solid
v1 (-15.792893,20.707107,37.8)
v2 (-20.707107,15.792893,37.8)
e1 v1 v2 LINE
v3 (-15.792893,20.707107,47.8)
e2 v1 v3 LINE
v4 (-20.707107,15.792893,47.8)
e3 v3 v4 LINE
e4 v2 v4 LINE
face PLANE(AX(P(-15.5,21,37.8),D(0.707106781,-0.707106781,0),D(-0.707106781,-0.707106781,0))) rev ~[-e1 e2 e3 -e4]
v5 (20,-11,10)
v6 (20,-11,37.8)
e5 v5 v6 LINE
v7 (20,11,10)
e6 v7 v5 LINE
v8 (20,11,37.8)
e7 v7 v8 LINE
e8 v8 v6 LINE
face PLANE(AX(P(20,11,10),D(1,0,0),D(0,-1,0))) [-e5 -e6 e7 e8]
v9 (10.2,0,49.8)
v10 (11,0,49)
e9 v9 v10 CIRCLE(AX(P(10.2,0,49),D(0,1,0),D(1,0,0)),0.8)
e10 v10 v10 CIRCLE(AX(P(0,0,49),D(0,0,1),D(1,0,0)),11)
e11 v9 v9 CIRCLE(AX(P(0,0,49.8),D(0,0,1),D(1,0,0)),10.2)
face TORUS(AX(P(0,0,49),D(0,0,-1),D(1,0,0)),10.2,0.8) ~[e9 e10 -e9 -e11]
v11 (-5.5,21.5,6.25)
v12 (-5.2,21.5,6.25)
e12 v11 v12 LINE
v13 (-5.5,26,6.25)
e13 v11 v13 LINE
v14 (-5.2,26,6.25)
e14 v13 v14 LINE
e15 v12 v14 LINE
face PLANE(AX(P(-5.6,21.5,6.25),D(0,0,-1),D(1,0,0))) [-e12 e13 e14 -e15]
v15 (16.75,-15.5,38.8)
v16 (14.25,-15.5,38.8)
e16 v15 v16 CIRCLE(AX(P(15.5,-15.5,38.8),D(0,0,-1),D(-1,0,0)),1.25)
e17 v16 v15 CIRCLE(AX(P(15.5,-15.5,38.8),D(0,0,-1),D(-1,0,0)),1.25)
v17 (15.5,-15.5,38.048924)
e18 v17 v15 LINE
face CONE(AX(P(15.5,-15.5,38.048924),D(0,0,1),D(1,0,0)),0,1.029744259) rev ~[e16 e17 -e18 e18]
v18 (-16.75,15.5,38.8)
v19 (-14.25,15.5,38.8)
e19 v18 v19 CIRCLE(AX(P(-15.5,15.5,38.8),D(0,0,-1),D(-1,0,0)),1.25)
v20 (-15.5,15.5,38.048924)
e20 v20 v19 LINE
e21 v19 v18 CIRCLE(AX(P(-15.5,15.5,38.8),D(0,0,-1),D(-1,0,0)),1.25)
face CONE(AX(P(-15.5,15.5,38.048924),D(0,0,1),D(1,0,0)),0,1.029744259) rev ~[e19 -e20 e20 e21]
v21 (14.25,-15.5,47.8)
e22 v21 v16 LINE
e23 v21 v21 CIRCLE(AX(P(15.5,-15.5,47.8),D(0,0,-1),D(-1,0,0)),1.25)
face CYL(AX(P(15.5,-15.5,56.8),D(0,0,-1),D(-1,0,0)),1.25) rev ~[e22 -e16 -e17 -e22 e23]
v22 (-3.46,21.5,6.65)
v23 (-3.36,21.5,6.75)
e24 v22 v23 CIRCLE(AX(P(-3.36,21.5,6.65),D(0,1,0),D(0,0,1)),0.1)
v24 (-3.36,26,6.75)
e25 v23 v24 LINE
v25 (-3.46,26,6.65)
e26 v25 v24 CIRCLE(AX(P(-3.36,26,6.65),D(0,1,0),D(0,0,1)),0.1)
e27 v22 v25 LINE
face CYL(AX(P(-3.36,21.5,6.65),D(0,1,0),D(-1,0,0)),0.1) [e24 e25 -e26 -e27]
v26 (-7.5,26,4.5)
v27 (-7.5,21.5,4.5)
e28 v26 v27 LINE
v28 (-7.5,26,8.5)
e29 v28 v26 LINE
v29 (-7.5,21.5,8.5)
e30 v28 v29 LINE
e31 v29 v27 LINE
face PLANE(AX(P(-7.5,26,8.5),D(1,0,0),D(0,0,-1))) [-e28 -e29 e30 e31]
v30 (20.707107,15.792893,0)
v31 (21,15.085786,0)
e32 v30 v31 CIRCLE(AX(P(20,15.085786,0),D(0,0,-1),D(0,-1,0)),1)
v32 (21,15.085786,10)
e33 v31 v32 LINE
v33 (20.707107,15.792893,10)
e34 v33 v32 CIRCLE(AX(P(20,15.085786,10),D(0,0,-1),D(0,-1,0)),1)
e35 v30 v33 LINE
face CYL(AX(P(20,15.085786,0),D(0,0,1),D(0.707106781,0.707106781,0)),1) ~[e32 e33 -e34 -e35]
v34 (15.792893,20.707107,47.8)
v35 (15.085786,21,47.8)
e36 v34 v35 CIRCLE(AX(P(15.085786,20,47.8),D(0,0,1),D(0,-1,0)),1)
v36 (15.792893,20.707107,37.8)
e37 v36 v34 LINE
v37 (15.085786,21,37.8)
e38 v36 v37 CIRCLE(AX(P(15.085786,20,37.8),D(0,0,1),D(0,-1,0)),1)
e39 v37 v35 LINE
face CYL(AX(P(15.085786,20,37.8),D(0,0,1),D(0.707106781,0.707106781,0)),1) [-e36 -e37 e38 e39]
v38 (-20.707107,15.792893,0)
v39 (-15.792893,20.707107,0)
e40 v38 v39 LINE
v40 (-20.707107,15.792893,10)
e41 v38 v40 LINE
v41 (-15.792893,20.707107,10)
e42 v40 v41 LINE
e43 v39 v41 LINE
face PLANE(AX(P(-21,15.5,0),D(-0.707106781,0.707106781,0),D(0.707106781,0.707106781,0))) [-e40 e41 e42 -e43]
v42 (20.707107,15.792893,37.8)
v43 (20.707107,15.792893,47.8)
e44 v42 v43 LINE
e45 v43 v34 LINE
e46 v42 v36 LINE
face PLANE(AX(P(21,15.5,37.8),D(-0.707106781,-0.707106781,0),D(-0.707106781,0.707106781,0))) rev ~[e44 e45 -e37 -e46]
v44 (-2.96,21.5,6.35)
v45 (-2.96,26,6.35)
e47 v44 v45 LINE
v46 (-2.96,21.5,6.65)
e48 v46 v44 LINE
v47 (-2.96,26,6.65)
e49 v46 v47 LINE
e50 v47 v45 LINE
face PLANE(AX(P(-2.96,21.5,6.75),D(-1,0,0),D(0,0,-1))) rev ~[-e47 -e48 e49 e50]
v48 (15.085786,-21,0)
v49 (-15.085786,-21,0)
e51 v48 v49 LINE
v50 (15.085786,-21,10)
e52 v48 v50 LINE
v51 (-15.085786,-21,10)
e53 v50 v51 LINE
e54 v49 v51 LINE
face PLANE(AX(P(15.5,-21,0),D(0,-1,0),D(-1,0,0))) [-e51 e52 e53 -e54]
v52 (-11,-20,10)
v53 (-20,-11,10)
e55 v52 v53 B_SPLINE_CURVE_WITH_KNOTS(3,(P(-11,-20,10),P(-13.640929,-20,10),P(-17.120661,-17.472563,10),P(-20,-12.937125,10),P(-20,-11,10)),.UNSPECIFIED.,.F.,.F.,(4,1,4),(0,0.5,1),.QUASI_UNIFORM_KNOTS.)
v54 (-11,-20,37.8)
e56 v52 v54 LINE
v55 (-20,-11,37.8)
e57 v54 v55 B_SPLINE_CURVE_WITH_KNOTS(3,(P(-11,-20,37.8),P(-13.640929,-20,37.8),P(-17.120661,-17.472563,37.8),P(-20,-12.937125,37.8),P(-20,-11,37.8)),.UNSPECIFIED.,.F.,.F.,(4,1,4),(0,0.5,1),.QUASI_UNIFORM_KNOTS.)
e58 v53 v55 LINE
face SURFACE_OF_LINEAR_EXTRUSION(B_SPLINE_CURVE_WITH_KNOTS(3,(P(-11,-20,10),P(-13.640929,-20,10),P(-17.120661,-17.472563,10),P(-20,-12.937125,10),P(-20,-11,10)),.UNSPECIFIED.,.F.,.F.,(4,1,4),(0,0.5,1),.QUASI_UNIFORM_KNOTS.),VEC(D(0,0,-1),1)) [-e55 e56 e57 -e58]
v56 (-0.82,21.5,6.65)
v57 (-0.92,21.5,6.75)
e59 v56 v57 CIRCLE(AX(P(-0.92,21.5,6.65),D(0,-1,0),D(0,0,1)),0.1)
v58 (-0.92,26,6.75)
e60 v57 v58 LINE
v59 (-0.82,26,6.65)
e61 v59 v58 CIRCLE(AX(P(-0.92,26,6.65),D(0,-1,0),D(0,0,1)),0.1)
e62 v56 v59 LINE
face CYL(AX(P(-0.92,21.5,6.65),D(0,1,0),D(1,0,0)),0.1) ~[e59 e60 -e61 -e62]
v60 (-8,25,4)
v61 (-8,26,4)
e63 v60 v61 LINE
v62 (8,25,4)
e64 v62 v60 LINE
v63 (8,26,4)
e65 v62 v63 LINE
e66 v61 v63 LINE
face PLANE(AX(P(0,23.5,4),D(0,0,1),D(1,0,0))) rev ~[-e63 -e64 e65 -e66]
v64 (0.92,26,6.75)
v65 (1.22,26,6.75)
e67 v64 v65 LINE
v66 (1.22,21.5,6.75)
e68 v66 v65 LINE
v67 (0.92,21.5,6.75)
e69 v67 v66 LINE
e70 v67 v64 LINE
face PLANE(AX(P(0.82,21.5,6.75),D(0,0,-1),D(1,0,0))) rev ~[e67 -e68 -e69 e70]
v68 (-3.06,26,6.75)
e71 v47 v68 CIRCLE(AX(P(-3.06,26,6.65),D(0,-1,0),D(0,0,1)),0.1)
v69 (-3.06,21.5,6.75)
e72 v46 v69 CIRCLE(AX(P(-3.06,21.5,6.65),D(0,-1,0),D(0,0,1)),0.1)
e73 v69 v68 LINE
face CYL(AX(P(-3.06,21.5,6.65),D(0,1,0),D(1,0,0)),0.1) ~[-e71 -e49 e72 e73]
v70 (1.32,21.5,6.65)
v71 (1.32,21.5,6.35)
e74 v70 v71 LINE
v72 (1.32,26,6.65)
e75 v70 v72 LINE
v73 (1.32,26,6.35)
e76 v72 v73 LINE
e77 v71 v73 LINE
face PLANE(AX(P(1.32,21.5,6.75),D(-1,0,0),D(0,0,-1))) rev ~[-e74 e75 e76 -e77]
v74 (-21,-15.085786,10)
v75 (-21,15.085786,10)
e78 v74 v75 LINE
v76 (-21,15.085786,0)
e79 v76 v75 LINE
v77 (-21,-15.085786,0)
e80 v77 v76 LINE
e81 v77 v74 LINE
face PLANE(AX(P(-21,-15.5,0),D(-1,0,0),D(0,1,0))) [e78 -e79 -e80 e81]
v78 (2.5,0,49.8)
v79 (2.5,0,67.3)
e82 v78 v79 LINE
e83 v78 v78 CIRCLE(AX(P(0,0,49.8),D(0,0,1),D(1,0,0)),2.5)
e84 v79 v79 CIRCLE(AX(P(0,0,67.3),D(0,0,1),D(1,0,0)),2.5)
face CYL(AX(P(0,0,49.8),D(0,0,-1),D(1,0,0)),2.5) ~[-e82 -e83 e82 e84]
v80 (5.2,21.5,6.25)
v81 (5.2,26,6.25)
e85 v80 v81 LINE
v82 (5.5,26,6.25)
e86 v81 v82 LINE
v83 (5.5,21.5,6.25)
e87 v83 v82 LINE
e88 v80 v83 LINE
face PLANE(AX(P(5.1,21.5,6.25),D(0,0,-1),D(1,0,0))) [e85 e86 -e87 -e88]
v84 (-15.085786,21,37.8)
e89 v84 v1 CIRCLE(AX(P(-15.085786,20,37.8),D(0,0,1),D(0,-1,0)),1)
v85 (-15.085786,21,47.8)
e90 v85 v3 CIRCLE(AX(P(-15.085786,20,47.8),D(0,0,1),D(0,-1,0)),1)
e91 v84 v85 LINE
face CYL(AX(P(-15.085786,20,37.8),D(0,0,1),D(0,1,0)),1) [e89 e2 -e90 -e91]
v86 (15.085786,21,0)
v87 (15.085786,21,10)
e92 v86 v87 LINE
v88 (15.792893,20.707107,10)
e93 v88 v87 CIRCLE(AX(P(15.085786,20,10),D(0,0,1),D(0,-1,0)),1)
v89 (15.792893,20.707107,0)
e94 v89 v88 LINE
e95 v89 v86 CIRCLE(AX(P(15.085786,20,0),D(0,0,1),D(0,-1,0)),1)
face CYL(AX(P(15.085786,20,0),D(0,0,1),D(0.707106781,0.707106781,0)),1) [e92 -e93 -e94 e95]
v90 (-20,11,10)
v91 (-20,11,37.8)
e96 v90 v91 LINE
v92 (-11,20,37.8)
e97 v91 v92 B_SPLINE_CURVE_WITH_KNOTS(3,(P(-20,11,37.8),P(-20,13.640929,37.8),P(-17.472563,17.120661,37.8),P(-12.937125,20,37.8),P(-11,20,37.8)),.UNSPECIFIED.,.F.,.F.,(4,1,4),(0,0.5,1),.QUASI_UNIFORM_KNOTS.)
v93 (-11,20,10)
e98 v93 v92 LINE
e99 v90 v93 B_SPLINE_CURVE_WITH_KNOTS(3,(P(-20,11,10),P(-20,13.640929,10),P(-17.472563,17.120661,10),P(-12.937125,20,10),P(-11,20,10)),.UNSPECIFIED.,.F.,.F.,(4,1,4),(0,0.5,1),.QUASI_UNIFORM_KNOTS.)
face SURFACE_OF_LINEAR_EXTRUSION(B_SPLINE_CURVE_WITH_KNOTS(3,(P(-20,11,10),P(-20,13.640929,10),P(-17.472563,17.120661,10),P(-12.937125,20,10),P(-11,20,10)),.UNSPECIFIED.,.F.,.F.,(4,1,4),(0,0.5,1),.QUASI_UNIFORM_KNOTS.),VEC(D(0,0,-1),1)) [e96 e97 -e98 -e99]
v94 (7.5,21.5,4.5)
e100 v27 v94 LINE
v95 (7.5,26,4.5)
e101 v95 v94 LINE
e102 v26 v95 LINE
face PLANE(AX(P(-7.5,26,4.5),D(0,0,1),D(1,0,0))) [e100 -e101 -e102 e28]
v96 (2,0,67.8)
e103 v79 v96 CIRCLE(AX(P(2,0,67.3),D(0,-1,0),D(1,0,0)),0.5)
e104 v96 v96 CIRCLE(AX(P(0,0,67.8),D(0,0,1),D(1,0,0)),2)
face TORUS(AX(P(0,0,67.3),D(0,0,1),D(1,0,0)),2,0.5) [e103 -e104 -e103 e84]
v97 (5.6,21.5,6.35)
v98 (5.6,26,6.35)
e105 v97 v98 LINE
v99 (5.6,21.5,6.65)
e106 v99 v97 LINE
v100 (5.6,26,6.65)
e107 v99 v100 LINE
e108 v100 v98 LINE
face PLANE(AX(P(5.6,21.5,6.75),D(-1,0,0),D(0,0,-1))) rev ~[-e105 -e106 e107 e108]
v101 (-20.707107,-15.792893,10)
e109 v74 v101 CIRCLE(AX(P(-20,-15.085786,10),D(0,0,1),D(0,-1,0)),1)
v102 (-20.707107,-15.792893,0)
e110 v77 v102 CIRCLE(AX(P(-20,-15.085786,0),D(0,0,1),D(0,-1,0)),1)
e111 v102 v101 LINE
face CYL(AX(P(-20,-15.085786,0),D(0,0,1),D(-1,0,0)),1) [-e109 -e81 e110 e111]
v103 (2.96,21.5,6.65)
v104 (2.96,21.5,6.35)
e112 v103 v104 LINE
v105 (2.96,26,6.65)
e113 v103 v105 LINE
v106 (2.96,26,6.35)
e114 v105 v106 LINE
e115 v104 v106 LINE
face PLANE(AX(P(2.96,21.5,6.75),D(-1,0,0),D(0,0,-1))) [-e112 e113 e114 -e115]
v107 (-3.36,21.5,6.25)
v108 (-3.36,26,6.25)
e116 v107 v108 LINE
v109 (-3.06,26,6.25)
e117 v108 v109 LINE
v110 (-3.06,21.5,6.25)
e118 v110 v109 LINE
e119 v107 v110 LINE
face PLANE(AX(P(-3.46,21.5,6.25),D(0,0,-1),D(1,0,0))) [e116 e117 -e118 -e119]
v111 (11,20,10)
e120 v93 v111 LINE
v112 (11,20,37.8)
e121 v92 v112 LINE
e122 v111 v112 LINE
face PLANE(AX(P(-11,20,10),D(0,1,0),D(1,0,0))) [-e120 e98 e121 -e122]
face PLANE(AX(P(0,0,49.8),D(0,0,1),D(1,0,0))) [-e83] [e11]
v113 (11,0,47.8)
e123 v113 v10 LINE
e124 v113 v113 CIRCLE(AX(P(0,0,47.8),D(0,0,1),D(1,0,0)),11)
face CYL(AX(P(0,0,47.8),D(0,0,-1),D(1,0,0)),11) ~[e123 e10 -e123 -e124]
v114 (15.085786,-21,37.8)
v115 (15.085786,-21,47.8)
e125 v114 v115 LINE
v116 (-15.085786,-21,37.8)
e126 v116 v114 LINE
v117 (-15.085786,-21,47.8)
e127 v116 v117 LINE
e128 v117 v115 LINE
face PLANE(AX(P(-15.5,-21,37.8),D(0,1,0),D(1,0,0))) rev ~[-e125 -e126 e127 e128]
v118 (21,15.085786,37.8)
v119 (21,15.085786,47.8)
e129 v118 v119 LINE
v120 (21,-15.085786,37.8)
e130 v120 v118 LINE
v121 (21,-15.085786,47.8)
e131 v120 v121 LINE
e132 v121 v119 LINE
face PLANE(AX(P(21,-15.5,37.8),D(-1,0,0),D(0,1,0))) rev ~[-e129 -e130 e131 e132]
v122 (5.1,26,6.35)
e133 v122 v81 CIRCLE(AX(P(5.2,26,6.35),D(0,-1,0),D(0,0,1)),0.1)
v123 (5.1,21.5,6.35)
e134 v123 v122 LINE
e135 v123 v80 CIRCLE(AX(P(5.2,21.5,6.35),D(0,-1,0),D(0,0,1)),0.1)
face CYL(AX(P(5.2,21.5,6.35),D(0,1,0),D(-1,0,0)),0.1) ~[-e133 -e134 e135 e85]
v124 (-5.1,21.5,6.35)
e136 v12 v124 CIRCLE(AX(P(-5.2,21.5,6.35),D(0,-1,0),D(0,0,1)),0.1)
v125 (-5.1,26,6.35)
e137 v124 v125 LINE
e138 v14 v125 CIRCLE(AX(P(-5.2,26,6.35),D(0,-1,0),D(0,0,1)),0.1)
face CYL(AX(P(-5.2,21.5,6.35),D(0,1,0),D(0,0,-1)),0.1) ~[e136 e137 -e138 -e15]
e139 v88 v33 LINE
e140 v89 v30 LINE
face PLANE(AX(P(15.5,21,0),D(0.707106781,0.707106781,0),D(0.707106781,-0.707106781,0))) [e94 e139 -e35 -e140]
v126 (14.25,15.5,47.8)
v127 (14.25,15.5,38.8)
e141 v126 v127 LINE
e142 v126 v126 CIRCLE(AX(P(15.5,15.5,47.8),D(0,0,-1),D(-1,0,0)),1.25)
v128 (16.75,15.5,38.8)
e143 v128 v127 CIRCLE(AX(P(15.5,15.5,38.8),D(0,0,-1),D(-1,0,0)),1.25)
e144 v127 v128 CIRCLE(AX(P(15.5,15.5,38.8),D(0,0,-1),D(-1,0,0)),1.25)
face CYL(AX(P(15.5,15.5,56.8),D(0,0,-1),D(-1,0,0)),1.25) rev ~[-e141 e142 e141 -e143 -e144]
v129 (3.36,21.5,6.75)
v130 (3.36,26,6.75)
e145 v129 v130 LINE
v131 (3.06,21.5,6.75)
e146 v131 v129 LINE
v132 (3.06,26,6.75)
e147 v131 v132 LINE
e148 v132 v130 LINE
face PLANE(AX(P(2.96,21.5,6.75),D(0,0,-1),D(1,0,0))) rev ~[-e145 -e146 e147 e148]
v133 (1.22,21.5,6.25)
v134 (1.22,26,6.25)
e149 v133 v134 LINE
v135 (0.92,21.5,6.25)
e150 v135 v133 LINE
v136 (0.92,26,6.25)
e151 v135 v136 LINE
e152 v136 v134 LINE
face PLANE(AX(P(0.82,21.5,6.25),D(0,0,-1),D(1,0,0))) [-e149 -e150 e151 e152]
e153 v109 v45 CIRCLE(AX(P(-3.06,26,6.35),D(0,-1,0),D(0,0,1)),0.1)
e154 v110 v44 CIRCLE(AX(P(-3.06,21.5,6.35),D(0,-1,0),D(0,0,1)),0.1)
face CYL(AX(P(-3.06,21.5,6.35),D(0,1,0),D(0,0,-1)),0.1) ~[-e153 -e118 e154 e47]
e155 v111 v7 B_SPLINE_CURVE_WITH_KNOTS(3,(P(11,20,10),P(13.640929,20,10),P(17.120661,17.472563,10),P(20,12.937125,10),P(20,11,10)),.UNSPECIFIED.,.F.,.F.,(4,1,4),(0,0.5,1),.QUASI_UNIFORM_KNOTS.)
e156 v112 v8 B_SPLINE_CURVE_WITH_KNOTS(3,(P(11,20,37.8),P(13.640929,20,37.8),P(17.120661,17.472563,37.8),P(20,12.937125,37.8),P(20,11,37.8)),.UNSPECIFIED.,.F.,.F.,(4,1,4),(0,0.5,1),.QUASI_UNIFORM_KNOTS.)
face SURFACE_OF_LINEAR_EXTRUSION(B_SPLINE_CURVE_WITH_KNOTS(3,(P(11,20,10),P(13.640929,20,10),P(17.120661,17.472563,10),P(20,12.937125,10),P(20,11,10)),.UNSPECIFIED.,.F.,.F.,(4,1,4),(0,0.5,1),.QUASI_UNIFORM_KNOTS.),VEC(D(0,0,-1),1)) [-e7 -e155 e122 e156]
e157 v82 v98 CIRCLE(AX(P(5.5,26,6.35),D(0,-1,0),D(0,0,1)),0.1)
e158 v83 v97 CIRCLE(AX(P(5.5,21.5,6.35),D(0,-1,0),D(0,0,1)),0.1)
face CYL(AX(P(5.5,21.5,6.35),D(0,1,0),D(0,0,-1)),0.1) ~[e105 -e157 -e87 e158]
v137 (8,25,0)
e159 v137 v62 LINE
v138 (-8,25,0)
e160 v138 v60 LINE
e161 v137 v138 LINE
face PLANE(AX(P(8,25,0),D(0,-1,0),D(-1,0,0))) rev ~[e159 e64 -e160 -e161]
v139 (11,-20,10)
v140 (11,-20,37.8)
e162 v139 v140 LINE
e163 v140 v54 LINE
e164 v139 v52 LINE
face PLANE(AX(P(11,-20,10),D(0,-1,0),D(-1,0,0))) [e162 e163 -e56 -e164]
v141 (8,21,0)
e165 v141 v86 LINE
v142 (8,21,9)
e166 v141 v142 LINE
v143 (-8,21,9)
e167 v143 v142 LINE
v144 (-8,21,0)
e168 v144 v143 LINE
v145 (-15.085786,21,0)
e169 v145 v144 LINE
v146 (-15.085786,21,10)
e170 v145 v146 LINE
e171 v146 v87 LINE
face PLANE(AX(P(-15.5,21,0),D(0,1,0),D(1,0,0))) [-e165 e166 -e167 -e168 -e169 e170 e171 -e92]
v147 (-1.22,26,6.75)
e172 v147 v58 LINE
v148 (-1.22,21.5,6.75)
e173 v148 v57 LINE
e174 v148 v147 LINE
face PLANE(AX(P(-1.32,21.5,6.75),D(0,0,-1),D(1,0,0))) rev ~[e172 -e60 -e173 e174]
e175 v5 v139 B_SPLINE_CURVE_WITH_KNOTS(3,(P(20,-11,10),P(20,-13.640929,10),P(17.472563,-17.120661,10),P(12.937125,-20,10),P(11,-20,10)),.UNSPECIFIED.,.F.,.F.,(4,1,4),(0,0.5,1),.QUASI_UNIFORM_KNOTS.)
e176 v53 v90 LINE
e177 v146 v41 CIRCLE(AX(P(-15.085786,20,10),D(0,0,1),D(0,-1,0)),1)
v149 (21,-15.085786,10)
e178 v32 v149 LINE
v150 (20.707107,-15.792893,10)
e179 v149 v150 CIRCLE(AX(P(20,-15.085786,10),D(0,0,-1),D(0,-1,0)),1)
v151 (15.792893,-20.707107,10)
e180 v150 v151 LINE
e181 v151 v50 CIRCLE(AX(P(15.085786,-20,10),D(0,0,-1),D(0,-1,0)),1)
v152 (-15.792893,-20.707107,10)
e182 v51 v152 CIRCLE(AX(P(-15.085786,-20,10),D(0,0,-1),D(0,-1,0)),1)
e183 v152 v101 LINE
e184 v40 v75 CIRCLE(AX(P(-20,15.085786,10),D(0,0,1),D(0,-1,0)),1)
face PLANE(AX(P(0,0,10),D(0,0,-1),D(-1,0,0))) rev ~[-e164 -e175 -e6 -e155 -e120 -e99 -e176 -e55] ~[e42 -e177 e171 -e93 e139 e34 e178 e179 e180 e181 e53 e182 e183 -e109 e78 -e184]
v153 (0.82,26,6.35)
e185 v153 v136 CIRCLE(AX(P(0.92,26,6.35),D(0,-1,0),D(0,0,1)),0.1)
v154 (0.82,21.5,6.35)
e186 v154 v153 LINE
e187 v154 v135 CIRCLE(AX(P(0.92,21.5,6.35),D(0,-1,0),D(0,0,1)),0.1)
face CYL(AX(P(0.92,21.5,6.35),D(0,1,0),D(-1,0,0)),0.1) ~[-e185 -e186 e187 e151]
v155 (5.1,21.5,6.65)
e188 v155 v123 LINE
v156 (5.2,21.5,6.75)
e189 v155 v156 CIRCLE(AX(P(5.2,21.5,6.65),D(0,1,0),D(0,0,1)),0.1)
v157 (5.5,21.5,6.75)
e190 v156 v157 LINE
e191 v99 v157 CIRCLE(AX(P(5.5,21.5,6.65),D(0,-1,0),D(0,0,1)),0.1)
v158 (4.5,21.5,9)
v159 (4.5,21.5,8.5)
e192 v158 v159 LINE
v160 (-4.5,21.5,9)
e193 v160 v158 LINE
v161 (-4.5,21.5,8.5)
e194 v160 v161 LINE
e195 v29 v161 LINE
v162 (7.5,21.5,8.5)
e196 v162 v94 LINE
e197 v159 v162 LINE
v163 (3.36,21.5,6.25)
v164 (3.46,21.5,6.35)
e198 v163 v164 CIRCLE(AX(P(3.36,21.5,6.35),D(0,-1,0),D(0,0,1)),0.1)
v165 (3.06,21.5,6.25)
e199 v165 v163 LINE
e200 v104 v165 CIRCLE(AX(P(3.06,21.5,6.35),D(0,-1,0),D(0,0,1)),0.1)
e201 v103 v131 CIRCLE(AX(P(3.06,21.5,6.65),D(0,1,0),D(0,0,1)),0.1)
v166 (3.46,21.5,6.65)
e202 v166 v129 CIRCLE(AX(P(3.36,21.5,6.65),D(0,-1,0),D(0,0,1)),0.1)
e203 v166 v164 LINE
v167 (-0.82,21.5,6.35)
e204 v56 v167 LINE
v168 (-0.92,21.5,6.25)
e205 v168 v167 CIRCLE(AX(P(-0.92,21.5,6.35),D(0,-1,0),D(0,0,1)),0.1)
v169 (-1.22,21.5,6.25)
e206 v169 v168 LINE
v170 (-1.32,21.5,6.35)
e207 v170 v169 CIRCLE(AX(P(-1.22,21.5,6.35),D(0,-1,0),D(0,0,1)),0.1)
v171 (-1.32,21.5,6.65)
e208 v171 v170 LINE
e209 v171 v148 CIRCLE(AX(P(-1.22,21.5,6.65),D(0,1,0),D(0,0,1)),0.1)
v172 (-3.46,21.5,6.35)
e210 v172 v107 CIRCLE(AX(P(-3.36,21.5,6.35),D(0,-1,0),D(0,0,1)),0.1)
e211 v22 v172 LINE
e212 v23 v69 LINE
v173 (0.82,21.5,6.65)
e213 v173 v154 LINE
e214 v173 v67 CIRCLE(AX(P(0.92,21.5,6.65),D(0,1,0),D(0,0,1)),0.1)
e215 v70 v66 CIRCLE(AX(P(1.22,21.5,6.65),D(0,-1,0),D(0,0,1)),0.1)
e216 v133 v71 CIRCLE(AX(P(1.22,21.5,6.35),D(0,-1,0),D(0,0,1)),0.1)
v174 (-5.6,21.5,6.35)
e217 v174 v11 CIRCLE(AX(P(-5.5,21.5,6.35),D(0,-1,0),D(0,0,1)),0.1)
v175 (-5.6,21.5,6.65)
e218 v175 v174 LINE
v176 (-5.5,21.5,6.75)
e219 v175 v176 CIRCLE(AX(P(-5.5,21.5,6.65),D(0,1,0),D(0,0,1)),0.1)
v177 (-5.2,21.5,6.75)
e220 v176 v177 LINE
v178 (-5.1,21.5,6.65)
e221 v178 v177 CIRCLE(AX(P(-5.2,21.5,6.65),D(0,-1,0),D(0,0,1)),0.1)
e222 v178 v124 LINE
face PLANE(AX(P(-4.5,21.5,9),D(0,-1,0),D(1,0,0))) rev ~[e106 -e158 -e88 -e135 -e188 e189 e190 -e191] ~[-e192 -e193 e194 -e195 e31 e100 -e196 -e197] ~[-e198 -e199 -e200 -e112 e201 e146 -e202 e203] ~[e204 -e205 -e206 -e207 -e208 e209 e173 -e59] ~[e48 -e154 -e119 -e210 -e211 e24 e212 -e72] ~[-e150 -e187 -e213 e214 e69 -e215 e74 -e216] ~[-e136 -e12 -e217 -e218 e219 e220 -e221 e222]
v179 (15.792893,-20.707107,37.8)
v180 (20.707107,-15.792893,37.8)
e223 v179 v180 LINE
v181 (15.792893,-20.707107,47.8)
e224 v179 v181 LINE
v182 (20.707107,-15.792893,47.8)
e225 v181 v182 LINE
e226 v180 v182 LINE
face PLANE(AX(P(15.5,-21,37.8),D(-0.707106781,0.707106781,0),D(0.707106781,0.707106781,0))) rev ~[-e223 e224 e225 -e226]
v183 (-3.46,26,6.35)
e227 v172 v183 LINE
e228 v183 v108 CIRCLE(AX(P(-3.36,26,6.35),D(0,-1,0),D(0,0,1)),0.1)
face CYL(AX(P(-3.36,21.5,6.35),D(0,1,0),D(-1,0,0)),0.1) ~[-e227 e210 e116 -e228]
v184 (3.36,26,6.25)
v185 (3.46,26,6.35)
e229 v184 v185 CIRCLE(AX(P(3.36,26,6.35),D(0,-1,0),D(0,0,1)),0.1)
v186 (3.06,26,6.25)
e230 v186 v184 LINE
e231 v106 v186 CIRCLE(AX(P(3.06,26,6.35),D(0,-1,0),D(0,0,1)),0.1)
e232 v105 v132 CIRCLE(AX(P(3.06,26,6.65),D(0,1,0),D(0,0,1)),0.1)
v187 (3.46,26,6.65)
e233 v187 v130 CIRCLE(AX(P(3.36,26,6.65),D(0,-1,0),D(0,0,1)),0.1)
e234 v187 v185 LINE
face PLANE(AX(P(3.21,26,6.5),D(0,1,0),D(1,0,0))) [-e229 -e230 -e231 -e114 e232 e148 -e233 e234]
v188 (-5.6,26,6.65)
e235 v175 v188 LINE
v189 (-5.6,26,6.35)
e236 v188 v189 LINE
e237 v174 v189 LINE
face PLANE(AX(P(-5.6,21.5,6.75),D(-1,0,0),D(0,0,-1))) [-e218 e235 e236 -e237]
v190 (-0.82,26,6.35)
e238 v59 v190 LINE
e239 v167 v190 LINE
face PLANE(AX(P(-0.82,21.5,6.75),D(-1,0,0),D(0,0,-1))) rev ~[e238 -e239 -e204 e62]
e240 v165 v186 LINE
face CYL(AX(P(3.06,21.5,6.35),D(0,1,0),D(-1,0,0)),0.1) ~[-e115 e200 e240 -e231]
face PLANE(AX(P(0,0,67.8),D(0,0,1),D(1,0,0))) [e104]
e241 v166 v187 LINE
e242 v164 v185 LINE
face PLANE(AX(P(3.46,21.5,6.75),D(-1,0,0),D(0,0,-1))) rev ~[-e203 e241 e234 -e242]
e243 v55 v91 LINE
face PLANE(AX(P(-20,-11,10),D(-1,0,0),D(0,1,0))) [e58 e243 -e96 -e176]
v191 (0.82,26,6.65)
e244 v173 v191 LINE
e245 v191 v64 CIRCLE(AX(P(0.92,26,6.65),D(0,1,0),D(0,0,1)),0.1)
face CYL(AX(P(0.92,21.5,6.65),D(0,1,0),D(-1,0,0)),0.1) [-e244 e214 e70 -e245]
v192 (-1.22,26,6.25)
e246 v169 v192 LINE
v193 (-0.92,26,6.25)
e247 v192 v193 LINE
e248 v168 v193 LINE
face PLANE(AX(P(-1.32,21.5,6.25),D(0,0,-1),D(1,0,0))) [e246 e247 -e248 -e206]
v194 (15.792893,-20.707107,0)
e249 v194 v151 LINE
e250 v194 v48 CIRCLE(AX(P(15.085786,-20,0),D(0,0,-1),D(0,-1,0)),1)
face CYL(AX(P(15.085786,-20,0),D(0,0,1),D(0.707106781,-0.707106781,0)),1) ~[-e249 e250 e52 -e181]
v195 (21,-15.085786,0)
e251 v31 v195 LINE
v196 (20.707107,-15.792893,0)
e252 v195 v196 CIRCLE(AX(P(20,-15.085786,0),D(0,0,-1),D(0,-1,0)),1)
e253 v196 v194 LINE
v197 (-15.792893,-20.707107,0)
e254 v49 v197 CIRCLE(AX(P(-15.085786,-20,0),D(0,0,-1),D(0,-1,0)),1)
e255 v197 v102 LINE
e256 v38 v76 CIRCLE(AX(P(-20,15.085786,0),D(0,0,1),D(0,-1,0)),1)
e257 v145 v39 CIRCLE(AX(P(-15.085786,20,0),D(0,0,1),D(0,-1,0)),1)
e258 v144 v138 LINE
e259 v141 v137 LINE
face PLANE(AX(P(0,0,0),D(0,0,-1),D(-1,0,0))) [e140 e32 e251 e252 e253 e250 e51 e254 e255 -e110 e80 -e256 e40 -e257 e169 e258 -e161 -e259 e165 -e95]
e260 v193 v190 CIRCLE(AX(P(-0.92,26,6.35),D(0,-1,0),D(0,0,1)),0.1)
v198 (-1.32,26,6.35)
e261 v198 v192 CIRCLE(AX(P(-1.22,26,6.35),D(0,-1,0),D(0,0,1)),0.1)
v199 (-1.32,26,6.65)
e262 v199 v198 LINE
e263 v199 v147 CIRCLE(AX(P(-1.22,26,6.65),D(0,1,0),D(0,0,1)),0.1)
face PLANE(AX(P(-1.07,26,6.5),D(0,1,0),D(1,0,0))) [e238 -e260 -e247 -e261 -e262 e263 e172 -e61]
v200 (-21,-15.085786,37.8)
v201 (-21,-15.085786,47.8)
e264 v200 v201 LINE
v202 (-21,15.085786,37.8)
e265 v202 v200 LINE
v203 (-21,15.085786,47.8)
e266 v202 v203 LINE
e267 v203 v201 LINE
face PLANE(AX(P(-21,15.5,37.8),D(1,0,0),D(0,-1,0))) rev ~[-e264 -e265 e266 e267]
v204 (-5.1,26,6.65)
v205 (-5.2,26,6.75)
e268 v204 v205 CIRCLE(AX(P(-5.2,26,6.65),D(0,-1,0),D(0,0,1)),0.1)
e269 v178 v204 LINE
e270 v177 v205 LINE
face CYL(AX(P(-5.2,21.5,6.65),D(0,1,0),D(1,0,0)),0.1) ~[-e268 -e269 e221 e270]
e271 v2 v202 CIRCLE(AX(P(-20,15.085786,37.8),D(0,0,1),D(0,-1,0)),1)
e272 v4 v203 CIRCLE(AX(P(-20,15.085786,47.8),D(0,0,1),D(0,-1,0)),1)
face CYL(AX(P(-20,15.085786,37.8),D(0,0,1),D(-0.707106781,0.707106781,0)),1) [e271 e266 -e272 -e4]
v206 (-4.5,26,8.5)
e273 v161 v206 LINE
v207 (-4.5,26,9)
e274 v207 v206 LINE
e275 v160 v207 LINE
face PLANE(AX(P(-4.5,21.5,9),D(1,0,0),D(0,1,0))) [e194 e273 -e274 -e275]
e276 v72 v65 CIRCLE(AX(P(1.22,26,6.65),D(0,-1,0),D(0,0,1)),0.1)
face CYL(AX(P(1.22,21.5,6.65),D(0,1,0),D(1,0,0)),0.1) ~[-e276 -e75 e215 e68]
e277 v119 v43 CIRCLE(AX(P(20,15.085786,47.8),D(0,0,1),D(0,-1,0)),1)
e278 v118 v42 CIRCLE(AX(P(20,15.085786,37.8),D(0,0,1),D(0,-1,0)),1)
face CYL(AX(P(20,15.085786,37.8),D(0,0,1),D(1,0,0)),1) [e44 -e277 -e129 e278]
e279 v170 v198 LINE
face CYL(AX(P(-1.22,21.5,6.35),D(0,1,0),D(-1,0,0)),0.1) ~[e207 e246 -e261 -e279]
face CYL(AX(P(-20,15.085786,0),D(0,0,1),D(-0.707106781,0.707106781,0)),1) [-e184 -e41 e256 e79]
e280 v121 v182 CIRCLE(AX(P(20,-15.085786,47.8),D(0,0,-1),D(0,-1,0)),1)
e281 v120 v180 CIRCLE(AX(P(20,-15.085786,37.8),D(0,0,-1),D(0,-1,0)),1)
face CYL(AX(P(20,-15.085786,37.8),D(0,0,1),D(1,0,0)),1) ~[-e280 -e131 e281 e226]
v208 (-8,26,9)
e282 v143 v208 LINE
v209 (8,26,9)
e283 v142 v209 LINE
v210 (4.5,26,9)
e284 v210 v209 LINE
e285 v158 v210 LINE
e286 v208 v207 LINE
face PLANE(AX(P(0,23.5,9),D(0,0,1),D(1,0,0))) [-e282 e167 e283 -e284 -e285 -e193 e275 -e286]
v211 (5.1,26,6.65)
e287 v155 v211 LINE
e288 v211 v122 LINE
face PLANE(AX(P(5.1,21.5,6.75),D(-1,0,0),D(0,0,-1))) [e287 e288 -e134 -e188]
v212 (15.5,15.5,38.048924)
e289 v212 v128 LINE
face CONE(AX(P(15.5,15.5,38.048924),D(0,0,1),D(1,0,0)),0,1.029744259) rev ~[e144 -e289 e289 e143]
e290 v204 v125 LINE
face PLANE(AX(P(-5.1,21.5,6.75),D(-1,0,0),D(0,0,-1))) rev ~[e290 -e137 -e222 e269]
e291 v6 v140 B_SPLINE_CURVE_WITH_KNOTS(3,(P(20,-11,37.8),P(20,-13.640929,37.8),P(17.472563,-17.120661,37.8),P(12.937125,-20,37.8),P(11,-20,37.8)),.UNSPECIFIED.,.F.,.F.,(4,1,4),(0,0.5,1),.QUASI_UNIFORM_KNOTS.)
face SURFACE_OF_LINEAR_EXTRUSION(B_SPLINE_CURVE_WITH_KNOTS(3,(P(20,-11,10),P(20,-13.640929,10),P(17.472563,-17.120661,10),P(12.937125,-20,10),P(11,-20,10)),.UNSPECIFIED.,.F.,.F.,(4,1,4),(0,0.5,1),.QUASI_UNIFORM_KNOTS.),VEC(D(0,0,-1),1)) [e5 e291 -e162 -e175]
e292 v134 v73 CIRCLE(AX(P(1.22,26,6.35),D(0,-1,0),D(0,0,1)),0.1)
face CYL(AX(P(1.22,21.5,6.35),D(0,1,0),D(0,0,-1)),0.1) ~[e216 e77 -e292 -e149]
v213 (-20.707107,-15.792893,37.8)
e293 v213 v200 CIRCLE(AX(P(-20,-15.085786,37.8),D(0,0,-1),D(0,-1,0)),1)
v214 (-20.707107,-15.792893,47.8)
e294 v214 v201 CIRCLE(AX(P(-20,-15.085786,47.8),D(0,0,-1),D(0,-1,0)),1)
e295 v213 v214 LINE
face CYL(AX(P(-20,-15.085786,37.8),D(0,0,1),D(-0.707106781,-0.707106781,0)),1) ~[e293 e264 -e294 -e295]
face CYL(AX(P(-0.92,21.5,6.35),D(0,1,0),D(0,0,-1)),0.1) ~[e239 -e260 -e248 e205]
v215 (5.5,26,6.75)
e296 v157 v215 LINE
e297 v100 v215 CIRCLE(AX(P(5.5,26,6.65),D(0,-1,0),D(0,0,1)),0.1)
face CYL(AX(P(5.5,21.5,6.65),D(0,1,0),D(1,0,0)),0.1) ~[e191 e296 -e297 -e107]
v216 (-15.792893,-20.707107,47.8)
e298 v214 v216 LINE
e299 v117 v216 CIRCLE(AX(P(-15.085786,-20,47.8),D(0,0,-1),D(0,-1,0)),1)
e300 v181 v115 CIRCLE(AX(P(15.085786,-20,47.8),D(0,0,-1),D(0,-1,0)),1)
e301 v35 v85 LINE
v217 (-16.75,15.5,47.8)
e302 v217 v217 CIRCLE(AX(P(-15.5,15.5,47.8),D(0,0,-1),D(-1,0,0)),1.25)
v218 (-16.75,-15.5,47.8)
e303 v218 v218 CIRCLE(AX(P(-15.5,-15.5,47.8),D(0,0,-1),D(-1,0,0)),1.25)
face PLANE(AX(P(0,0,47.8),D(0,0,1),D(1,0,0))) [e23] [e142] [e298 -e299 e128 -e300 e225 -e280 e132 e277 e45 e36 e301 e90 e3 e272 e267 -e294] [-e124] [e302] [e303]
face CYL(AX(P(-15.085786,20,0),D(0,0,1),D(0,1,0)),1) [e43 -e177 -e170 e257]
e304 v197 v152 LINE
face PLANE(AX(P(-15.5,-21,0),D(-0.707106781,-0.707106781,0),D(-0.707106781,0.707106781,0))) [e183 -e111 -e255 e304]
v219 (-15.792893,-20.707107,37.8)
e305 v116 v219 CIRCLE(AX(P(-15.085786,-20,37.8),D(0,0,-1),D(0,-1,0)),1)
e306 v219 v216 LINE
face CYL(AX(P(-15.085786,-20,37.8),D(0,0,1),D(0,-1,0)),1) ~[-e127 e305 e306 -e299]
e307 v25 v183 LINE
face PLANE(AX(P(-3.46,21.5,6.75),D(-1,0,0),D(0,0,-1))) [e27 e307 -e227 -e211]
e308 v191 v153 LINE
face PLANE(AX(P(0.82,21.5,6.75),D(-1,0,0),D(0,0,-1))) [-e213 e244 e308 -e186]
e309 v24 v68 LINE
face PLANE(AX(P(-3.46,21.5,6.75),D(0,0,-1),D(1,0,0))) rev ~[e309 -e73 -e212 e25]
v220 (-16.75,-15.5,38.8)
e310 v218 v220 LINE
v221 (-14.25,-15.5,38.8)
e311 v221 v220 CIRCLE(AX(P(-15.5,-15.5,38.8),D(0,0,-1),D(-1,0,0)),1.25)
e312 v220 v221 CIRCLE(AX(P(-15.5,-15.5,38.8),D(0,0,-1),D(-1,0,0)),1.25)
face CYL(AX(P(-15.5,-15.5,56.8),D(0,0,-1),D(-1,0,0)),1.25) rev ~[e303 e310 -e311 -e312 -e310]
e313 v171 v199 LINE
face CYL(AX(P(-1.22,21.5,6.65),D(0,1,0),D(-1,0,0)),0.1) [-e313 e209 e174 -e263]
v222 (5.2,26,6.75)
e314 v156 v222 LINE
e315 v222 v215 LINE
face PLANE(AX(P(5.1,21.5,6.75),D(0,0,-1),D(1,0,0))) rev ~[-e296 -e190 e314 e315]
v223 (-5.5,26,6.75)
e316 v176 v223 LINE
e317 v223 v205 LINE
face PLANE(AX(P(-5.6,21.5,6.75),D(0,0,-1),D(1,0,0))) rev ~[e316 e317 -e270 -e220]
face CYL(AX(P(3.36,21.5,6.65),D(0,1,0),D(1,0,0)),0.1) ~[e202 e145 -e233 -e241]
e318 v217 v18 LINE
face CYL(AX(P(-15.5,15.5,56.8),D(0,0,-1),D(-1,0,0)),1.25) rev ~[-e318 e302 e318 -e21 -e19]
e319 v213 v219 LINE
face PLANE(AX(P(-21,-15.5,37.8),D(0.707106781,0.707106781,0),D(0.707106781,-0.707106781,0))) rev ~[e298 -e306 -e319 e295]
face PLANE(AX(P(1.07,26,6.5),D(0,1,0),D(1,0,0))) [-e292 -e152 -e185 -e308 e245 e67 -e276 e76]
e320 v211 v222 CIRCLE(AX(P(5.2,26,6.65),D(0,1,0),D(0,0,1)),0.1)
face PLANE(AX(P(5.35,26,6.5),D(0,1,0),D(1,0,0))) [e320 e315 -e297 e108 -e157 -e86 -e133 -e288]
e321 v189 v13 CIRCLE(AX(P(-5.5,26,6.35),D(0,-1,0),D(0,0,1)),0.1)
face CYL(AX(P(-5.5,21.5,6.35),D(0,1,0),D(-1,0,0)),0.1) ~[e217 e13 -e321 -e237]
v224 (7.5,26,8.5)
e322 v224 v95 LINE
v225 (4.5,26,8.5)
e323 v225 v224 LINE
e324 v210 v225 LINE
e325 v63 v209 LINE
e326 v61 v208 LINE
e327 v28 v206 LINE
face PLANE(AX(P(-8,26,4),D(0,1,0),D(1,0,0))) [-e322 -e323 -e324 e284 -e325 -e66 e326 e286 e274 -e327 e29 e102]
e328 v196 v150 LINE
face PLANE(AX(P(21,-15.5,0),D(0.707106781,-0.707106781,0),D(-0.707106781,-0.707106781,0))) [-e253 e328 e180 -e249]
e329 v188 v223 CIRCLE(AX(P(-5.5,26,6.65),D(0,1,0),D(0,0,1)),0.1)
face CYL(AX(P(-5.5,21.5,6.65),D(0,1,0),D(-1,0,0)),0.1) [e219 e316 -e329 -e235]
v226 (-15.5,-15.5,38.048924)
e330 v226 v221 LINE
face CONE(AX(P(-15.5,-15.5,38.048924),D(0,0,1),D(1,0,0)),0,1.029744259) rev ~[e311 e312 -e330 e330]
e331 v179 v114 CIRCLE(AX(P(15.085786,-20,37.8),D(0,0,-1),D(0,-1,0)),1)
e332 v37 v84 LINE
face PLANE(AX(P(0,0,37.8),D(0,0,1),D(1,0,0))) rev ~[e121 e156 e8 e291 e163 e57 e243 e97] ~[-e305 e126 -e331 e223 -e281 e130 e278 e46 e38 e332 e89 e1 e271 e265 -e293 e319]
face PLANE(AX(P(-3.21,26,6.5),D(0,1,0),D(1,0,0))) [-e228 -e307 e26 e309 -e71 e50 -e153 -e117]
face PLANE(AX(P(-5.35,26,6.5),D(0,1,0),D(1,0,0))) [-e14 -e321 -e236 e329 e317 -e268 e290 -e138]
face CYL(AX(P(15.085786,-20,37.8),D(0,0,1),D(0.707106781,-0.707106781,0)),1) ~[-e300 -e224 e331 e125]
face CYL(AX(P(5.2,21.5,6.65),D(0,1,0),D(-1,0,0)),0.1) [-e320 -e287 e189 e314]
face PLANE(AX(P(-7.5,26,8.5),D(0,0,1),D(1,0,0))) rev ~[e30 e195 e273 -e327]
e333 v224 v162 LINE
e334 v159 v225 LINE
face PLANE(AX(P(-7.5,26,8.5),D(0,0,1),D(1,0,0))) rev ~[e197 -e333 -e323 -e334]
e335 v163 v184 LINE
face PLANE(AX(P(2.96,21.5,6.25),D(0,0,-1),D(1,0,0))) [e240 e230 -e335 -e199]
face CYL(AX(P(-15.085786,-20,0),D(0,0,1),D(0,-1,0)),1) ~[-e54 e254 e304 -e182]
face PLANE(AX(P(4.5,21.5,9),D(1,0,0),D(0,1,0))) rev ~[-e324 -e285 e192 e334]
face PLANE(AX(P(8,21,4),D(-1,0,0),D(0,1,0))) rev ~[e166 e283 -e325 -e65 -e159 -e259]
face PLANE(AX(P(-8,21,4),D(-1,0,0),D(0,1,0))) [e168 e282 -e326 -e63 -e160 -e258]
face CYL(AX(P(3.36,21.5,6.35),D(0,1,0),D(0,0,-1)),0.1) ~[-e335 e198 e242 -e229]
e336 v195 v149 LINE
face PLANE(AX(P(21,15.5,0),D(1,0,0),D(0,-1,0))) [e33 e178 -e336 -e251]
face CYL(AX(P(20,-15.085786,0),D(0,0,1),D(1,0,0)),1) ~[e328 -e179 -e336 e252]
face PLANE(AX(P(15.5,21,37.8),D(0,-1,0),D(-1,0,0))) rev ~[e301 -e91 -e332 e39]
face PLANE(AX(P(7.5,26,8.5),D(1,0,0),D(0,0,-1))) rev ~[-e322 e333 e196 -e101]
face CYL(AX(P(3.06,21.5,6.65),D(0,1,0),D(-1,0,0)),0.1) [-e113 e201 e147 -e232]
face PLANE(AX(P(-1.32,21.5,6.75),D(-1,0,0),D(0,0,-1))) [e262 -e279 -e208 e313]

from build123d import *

# Parameters (mm, degrees)
EXTRUDE_1_DEPTH        = 10
EXTRUDE_2_DEPTH        = 27.8
EXTRUDE_3_DEPTH        = 10
SKETCH_4_R             = 11
EXTRUDE_4_DEPTH        = 2
SKETCH_5_R             = 2.5
EXTRUDE_5_DEPTH        = 18
FILLET_1_R             = 0.5
FILLET_2_R             = 0.8
FILLET_3_R             = 1
FILLET_4_R             = 1
HOLE_WIZARD_M3_4_D     = 2.5
HOLE_WIZARD_M3_4_DEPTH = 9
HOLE_WIZARD_M3_4_TIP   = 0.751075774
SKETCH_18_W            = 16
SKETCH_18_H            = 4
EXTRUDE_6_DEPTH        = 4
SKETCH_19_W            = 16
SKETCH_19_H            = 5
EXTRUDE_7_DEPTH        = 5
SKETCH_20_W            = 15
SKETCH_20_H            = 4
CUT_EXTRUDE_2_DEPTH    = 4.5
SKETCH_22_W            = 9
SKETCH_22_H            = 4.5
CUT_EXTRUDE_3_DEPTH    = 0.5
SKETCH_23_W            = 0.5
SKETCH_23_H            = 0.5
EXTRUDE_8_DEPTH        = 4.5
FILLET_6_R             = 0.1
FILLET_7_R             = 0.1
FILLET_8_R             = 0.1
FILLET_9_R             = 0.1
FILLET_10_R            = 0.1
FILLET_11_R            = 0.1


with BuildPart() as part:
    # 草图1 → 凸台-拉伸1 (new body)
    with BuildSketch(Plane.XY):
        Polygon((15.5, 21), (21, 15.5), (21, -15.5), (15.5, -21), (-15.5, -21), (-21, -15.5), (-21, 15.5), (-15.5, 21), align=None)
    extrude(amount=EXTRUDE_1_DEPTH)

    # 草图2 → 凸台-拉伸2 (add)
    with BuildSketch(Plane.XY.offset(10)):
        with BuildLine():
            Line((-11, 20), (11, 20))
            add(Edge.make_bspline(
                [(11, 20), (13.640929295, 20), (17.12066085, 17.472562842), (20, 12.937125311), (20, 11)],
                knots=[0, 0, 0, 0, 0.5, 1, 1, 1, 1], degree=3))
            Line((20, 11), (20, -11))
            add(Edge.make_bspline(
                [(20, -11), (20, -13.640929295), (17.472562842, -17.12066085), (12.937125311, -20), (11, -20)],
                knots=[0, 0, 0, 0, 0.5, 1, 1, 1, 1], degree=3))
            Line((11, -20), (-11, -20))
            add(Edge.make_bspline(
                [(-11, -20), (-13.640929295, -20), (-17.12066085, -17.472562842), (-20, -12.937125311), (-20, -11)],
                knots=[0, 0, 0, 0, 0.5, 1, 1, 1, 1], degree=3))
            Line((-20, -11), (-20, 11))
            add(Edge.make_bspline(
                [(-20, 11), (-20, 13.640929295), (-17.472562842, 17.12066085), (-12.937125311, 20), (-11, 20)],
                knots=[0, 0, 0, 0, 0.5, 1, 1, 1, 1], degree=3))
        make_face()
    extrude(amount=EXTRUDE_2_DEPTH)

    # 草图3 → 凸台-拉伸3 (add)
    with BuildSketch(Plane.XY.offset(37.8)):
        Polygon((21, -15.5), (21, 15.5), (15.5, 21), (-15.5, 21), (-21, 15.5), (-21, -15.5), (-15.5, -21), (15.5, -21), align=None)
    extrude(amount=EXTRUDE_3_DEPTH)

    # 草图4 → 凸台-拉伸4 (add)
    with BuildSketch(Plane.XY.offset(47.8)):
        Circle(SKETCH_4_R)
    extrude(amount=EXTRUDE_4_DEPTH)

    # 草图5 → 凸台-拉伸5 (add)
    with BuildSketch(Plane.XY.offset(49.8)):
        Circle(SKETCH_5_R)
    extrude(amount=EXTRUDE_5_DEPTH)

    # 圆角1
    fillet_1_edges = [part.edges().sort_by_distance(p)[0] for p in [
        (-2.5, 0, 67.8),
    ]]
    fillet(fillet_1_edges, radius=FILLET_1_R)

    # 圆角2
    fillet_2_edges = [part.edges().sort_by_distance(p)[0] for p in [
        (-11, 0, 49.8),
    ]]
    fillet(fillet_2_edges, radius=FILLET_2_R)

    # 圆角3
    fillet_3_edges = [part.edges().sort_by_distance(p)[0] for p in [
        (21, -15.5, 5),
        (15.5, -21, 5),
        (-15.5, -21, 5),
        (-21, -15.5, 5),
        (-21, 15.5, 5),
        (-15.5, 21, 5),
        (15.5, 21, 5),
        (21, 15.5, 5),
    ]]
    fillet(fillet_3_edges, radius=FILLET_3_R)

    # 圆角4
    fillet_4_edges = [part.edges().sort_by_distance(p)[0] for p in [
        (21, 15.5, 42.8),
        (15.5, 21, 42.8),
        (-15.5, 21, 42.8),
        (-21, 15.5, 42.8),
        (-21, -15.5, 42.8),
        (-15.5, -21, 42.8),
        (15.5, -21, 42.8),
        (21, -15.5, 42.8),
    ]]
    fillet(fillet_4_edges, radius=FILLET_4_R)

    # M3 螺纹孔4
    with Locations(Plane(origin=(-15.5, 15.5, 47.8), x_dir=(1, 0, 0), z_dir=(0, 0, 1))):
        with Locations((0, 0), (31, 0), (31, -31), (0, -31)):
            Hole(HOLE_WIZARD_M3_4_D / 2, depth=HOLE_WIZARD_M3_4_DEPTH)
            with Locations((0, 0, -(HOLE_WIZARD_M3_4_DEPTH + HOLE_WIZARD_M3_4_TIP / 2))):  # 118° drill point
                Cone(0, HOLE_WIZARD_M3_4_D / 2, HOLE_WIZARD_M3_4_TIP, mode=Mode.SUBTRACT)

    # 草图18 → 凸台-拉伸6 (add)
    with BuildSketch(Plane(origin=(0, 0, 0), x_dir=(-1, 0, 0), z_dir=(0, 0, -1))):
        with Locations((0, 23)):
            Rectangle(SKETCH_18_W, SKETCH_18_H)
    extrude(amount=-EXTRUDE_6_DEPTH)

    # 草图19 → 凸台-拉伸7 (add)
    with BuildSketch(Plane.XY.offset(4)):
        with Locations((0, 23.5)):
            Rectangle(SKETCH_19_W, SKETCH_19_H)
    extrude(amount=EXTRUDE_7_DEPTH)

    # 草图20 → 切除-拉伸2 (cut)
    with BuildSketch(Plane(origin=(0, 26, 0), x_dir=(1, 0, 0), z_dir=(0, 1, 0))):
        with Locations((0, -6.5)):
            Rectangle(SKETCH_20_W, SKETCH_20_H)
    extrude(amount=-CUT_EXTRUDE_2_DEPTH, mode=Mode.SUBTRACT)

    # 草图22 → 切除-拉伸3 (cut)
    with BuildSketch(Plane.XY.offset(9)):
        with Locations((0, 23.75)):
            Rectangle(SKETCH_22_W, SKETCH_22_H)
    extrude(amount=-CUT_EXTRUDE_3_DEPTH, mode=Mode.SUBTRACT)

    # 草图23 → 凸台-拉伸8 (add)
    with BuildSketch(Plane(origin=(0, 21.5, 0), x_dir=(1, 0, 0), z_dir=(0, 1, 0))):
        with Locations((-3.21, -6.5)):
            Rectangle(SKETCH_23_W, SKETCH_23_H)
        with Locations((-5.35, -6.5)):
            Rectangle(SKETCH_23_W, SKETCH_23_H)
        with Locations((-1.07, -6.5)):
            Rectangle(SKETCH_23_W, SKETCH_23_H)
        with Locations((1.07, -6.5)):
            Rectangle(SKETCH_23_W, SKETCH_23_H)
        with Locations((3.21, -6.5)):
            Rectangle(SKETCH_23_W, SKETCH_23_H)
        with Locations((5.35, -6.5)):
            Rectangle(SKETCH_23_W, SKETCH_23_H)
    extrude(amount=EXTRUDE_8_DEPTH)

    # 圆角6
    fillet_6_edges = [part.edges().sort_by_distance(p)[0] for p in [
        (-5.6, 23.75, 6.75),
        (-5.6, 23.75, 6.25),
        (-5.1, 23.75, 6.25),
        (-5.1, 23.75, 6.75),
    ]]
    fillet(fillet_6_edges, radius=FILLET_6_R)

    # 圆角7
    fillet_7_edges = [part.edges().sort_by_distance(p)[0] for p in [
        (-3.46, 23.75, 6.25),
        (-2.96, 23.75, 6.25),
        (-2.96, 23.75, 6.75),
        (-3.46, 23.75, 6.75),
    ]]
    fillet(fillet_7_edges, radius=FILLET_7_R)

    # 圆角8
    fillet_8_edges = [part.edges().sort_by_distance(p)[0] for p in [
        (-1.32, 23.75, 6.25),
        (-0.82, 23.75, 6.25),
        (-0.82, 23.75, 6.75),
        (-1.32, 23.75, 6.75),
    ]]
    fillet(fillet_8_edges, radius=FILLET_8_R)

    # 圆角9
    fillet_9_edges = [part.edges().sort_by_distance(p)[0] for p in [
        (0.82, 23.75, 6.25),
        (1.32, 23.75, 6.25),
        (1.32, 23.75, 6.75),
        (0.82, 23.75, 6.75),
    ]]
    fillet(fillet_9_edges, radius=FILLET_9_R)

    # 圆角10
    fillet_10_edges = [part.edges().sort_by_distance(p)[0] for p in [
        (2.96, 23.75, 6.25),
        (3.46, 23.75, 6.25),
        (3.46, 23.75, 6.75),
        (2.96, 23.75, 6.75),
    ]]
    fillet(fillet_10_edges, radius=FILLET_10_R)

    # 圆角11
    fillet_11_edges = [part.edges().sort_by_distance(p)[0] for p in [
        (5.1, 23.75, 6.25),
        (5.6, 23.75, 6.25),
        (5.6, 23.75, 6.75),
        (5.1, 23.75, 6.75),
    ]]
    fillet(fillet_11_edges, radius=FILLET_11_R)


solid = part.part
